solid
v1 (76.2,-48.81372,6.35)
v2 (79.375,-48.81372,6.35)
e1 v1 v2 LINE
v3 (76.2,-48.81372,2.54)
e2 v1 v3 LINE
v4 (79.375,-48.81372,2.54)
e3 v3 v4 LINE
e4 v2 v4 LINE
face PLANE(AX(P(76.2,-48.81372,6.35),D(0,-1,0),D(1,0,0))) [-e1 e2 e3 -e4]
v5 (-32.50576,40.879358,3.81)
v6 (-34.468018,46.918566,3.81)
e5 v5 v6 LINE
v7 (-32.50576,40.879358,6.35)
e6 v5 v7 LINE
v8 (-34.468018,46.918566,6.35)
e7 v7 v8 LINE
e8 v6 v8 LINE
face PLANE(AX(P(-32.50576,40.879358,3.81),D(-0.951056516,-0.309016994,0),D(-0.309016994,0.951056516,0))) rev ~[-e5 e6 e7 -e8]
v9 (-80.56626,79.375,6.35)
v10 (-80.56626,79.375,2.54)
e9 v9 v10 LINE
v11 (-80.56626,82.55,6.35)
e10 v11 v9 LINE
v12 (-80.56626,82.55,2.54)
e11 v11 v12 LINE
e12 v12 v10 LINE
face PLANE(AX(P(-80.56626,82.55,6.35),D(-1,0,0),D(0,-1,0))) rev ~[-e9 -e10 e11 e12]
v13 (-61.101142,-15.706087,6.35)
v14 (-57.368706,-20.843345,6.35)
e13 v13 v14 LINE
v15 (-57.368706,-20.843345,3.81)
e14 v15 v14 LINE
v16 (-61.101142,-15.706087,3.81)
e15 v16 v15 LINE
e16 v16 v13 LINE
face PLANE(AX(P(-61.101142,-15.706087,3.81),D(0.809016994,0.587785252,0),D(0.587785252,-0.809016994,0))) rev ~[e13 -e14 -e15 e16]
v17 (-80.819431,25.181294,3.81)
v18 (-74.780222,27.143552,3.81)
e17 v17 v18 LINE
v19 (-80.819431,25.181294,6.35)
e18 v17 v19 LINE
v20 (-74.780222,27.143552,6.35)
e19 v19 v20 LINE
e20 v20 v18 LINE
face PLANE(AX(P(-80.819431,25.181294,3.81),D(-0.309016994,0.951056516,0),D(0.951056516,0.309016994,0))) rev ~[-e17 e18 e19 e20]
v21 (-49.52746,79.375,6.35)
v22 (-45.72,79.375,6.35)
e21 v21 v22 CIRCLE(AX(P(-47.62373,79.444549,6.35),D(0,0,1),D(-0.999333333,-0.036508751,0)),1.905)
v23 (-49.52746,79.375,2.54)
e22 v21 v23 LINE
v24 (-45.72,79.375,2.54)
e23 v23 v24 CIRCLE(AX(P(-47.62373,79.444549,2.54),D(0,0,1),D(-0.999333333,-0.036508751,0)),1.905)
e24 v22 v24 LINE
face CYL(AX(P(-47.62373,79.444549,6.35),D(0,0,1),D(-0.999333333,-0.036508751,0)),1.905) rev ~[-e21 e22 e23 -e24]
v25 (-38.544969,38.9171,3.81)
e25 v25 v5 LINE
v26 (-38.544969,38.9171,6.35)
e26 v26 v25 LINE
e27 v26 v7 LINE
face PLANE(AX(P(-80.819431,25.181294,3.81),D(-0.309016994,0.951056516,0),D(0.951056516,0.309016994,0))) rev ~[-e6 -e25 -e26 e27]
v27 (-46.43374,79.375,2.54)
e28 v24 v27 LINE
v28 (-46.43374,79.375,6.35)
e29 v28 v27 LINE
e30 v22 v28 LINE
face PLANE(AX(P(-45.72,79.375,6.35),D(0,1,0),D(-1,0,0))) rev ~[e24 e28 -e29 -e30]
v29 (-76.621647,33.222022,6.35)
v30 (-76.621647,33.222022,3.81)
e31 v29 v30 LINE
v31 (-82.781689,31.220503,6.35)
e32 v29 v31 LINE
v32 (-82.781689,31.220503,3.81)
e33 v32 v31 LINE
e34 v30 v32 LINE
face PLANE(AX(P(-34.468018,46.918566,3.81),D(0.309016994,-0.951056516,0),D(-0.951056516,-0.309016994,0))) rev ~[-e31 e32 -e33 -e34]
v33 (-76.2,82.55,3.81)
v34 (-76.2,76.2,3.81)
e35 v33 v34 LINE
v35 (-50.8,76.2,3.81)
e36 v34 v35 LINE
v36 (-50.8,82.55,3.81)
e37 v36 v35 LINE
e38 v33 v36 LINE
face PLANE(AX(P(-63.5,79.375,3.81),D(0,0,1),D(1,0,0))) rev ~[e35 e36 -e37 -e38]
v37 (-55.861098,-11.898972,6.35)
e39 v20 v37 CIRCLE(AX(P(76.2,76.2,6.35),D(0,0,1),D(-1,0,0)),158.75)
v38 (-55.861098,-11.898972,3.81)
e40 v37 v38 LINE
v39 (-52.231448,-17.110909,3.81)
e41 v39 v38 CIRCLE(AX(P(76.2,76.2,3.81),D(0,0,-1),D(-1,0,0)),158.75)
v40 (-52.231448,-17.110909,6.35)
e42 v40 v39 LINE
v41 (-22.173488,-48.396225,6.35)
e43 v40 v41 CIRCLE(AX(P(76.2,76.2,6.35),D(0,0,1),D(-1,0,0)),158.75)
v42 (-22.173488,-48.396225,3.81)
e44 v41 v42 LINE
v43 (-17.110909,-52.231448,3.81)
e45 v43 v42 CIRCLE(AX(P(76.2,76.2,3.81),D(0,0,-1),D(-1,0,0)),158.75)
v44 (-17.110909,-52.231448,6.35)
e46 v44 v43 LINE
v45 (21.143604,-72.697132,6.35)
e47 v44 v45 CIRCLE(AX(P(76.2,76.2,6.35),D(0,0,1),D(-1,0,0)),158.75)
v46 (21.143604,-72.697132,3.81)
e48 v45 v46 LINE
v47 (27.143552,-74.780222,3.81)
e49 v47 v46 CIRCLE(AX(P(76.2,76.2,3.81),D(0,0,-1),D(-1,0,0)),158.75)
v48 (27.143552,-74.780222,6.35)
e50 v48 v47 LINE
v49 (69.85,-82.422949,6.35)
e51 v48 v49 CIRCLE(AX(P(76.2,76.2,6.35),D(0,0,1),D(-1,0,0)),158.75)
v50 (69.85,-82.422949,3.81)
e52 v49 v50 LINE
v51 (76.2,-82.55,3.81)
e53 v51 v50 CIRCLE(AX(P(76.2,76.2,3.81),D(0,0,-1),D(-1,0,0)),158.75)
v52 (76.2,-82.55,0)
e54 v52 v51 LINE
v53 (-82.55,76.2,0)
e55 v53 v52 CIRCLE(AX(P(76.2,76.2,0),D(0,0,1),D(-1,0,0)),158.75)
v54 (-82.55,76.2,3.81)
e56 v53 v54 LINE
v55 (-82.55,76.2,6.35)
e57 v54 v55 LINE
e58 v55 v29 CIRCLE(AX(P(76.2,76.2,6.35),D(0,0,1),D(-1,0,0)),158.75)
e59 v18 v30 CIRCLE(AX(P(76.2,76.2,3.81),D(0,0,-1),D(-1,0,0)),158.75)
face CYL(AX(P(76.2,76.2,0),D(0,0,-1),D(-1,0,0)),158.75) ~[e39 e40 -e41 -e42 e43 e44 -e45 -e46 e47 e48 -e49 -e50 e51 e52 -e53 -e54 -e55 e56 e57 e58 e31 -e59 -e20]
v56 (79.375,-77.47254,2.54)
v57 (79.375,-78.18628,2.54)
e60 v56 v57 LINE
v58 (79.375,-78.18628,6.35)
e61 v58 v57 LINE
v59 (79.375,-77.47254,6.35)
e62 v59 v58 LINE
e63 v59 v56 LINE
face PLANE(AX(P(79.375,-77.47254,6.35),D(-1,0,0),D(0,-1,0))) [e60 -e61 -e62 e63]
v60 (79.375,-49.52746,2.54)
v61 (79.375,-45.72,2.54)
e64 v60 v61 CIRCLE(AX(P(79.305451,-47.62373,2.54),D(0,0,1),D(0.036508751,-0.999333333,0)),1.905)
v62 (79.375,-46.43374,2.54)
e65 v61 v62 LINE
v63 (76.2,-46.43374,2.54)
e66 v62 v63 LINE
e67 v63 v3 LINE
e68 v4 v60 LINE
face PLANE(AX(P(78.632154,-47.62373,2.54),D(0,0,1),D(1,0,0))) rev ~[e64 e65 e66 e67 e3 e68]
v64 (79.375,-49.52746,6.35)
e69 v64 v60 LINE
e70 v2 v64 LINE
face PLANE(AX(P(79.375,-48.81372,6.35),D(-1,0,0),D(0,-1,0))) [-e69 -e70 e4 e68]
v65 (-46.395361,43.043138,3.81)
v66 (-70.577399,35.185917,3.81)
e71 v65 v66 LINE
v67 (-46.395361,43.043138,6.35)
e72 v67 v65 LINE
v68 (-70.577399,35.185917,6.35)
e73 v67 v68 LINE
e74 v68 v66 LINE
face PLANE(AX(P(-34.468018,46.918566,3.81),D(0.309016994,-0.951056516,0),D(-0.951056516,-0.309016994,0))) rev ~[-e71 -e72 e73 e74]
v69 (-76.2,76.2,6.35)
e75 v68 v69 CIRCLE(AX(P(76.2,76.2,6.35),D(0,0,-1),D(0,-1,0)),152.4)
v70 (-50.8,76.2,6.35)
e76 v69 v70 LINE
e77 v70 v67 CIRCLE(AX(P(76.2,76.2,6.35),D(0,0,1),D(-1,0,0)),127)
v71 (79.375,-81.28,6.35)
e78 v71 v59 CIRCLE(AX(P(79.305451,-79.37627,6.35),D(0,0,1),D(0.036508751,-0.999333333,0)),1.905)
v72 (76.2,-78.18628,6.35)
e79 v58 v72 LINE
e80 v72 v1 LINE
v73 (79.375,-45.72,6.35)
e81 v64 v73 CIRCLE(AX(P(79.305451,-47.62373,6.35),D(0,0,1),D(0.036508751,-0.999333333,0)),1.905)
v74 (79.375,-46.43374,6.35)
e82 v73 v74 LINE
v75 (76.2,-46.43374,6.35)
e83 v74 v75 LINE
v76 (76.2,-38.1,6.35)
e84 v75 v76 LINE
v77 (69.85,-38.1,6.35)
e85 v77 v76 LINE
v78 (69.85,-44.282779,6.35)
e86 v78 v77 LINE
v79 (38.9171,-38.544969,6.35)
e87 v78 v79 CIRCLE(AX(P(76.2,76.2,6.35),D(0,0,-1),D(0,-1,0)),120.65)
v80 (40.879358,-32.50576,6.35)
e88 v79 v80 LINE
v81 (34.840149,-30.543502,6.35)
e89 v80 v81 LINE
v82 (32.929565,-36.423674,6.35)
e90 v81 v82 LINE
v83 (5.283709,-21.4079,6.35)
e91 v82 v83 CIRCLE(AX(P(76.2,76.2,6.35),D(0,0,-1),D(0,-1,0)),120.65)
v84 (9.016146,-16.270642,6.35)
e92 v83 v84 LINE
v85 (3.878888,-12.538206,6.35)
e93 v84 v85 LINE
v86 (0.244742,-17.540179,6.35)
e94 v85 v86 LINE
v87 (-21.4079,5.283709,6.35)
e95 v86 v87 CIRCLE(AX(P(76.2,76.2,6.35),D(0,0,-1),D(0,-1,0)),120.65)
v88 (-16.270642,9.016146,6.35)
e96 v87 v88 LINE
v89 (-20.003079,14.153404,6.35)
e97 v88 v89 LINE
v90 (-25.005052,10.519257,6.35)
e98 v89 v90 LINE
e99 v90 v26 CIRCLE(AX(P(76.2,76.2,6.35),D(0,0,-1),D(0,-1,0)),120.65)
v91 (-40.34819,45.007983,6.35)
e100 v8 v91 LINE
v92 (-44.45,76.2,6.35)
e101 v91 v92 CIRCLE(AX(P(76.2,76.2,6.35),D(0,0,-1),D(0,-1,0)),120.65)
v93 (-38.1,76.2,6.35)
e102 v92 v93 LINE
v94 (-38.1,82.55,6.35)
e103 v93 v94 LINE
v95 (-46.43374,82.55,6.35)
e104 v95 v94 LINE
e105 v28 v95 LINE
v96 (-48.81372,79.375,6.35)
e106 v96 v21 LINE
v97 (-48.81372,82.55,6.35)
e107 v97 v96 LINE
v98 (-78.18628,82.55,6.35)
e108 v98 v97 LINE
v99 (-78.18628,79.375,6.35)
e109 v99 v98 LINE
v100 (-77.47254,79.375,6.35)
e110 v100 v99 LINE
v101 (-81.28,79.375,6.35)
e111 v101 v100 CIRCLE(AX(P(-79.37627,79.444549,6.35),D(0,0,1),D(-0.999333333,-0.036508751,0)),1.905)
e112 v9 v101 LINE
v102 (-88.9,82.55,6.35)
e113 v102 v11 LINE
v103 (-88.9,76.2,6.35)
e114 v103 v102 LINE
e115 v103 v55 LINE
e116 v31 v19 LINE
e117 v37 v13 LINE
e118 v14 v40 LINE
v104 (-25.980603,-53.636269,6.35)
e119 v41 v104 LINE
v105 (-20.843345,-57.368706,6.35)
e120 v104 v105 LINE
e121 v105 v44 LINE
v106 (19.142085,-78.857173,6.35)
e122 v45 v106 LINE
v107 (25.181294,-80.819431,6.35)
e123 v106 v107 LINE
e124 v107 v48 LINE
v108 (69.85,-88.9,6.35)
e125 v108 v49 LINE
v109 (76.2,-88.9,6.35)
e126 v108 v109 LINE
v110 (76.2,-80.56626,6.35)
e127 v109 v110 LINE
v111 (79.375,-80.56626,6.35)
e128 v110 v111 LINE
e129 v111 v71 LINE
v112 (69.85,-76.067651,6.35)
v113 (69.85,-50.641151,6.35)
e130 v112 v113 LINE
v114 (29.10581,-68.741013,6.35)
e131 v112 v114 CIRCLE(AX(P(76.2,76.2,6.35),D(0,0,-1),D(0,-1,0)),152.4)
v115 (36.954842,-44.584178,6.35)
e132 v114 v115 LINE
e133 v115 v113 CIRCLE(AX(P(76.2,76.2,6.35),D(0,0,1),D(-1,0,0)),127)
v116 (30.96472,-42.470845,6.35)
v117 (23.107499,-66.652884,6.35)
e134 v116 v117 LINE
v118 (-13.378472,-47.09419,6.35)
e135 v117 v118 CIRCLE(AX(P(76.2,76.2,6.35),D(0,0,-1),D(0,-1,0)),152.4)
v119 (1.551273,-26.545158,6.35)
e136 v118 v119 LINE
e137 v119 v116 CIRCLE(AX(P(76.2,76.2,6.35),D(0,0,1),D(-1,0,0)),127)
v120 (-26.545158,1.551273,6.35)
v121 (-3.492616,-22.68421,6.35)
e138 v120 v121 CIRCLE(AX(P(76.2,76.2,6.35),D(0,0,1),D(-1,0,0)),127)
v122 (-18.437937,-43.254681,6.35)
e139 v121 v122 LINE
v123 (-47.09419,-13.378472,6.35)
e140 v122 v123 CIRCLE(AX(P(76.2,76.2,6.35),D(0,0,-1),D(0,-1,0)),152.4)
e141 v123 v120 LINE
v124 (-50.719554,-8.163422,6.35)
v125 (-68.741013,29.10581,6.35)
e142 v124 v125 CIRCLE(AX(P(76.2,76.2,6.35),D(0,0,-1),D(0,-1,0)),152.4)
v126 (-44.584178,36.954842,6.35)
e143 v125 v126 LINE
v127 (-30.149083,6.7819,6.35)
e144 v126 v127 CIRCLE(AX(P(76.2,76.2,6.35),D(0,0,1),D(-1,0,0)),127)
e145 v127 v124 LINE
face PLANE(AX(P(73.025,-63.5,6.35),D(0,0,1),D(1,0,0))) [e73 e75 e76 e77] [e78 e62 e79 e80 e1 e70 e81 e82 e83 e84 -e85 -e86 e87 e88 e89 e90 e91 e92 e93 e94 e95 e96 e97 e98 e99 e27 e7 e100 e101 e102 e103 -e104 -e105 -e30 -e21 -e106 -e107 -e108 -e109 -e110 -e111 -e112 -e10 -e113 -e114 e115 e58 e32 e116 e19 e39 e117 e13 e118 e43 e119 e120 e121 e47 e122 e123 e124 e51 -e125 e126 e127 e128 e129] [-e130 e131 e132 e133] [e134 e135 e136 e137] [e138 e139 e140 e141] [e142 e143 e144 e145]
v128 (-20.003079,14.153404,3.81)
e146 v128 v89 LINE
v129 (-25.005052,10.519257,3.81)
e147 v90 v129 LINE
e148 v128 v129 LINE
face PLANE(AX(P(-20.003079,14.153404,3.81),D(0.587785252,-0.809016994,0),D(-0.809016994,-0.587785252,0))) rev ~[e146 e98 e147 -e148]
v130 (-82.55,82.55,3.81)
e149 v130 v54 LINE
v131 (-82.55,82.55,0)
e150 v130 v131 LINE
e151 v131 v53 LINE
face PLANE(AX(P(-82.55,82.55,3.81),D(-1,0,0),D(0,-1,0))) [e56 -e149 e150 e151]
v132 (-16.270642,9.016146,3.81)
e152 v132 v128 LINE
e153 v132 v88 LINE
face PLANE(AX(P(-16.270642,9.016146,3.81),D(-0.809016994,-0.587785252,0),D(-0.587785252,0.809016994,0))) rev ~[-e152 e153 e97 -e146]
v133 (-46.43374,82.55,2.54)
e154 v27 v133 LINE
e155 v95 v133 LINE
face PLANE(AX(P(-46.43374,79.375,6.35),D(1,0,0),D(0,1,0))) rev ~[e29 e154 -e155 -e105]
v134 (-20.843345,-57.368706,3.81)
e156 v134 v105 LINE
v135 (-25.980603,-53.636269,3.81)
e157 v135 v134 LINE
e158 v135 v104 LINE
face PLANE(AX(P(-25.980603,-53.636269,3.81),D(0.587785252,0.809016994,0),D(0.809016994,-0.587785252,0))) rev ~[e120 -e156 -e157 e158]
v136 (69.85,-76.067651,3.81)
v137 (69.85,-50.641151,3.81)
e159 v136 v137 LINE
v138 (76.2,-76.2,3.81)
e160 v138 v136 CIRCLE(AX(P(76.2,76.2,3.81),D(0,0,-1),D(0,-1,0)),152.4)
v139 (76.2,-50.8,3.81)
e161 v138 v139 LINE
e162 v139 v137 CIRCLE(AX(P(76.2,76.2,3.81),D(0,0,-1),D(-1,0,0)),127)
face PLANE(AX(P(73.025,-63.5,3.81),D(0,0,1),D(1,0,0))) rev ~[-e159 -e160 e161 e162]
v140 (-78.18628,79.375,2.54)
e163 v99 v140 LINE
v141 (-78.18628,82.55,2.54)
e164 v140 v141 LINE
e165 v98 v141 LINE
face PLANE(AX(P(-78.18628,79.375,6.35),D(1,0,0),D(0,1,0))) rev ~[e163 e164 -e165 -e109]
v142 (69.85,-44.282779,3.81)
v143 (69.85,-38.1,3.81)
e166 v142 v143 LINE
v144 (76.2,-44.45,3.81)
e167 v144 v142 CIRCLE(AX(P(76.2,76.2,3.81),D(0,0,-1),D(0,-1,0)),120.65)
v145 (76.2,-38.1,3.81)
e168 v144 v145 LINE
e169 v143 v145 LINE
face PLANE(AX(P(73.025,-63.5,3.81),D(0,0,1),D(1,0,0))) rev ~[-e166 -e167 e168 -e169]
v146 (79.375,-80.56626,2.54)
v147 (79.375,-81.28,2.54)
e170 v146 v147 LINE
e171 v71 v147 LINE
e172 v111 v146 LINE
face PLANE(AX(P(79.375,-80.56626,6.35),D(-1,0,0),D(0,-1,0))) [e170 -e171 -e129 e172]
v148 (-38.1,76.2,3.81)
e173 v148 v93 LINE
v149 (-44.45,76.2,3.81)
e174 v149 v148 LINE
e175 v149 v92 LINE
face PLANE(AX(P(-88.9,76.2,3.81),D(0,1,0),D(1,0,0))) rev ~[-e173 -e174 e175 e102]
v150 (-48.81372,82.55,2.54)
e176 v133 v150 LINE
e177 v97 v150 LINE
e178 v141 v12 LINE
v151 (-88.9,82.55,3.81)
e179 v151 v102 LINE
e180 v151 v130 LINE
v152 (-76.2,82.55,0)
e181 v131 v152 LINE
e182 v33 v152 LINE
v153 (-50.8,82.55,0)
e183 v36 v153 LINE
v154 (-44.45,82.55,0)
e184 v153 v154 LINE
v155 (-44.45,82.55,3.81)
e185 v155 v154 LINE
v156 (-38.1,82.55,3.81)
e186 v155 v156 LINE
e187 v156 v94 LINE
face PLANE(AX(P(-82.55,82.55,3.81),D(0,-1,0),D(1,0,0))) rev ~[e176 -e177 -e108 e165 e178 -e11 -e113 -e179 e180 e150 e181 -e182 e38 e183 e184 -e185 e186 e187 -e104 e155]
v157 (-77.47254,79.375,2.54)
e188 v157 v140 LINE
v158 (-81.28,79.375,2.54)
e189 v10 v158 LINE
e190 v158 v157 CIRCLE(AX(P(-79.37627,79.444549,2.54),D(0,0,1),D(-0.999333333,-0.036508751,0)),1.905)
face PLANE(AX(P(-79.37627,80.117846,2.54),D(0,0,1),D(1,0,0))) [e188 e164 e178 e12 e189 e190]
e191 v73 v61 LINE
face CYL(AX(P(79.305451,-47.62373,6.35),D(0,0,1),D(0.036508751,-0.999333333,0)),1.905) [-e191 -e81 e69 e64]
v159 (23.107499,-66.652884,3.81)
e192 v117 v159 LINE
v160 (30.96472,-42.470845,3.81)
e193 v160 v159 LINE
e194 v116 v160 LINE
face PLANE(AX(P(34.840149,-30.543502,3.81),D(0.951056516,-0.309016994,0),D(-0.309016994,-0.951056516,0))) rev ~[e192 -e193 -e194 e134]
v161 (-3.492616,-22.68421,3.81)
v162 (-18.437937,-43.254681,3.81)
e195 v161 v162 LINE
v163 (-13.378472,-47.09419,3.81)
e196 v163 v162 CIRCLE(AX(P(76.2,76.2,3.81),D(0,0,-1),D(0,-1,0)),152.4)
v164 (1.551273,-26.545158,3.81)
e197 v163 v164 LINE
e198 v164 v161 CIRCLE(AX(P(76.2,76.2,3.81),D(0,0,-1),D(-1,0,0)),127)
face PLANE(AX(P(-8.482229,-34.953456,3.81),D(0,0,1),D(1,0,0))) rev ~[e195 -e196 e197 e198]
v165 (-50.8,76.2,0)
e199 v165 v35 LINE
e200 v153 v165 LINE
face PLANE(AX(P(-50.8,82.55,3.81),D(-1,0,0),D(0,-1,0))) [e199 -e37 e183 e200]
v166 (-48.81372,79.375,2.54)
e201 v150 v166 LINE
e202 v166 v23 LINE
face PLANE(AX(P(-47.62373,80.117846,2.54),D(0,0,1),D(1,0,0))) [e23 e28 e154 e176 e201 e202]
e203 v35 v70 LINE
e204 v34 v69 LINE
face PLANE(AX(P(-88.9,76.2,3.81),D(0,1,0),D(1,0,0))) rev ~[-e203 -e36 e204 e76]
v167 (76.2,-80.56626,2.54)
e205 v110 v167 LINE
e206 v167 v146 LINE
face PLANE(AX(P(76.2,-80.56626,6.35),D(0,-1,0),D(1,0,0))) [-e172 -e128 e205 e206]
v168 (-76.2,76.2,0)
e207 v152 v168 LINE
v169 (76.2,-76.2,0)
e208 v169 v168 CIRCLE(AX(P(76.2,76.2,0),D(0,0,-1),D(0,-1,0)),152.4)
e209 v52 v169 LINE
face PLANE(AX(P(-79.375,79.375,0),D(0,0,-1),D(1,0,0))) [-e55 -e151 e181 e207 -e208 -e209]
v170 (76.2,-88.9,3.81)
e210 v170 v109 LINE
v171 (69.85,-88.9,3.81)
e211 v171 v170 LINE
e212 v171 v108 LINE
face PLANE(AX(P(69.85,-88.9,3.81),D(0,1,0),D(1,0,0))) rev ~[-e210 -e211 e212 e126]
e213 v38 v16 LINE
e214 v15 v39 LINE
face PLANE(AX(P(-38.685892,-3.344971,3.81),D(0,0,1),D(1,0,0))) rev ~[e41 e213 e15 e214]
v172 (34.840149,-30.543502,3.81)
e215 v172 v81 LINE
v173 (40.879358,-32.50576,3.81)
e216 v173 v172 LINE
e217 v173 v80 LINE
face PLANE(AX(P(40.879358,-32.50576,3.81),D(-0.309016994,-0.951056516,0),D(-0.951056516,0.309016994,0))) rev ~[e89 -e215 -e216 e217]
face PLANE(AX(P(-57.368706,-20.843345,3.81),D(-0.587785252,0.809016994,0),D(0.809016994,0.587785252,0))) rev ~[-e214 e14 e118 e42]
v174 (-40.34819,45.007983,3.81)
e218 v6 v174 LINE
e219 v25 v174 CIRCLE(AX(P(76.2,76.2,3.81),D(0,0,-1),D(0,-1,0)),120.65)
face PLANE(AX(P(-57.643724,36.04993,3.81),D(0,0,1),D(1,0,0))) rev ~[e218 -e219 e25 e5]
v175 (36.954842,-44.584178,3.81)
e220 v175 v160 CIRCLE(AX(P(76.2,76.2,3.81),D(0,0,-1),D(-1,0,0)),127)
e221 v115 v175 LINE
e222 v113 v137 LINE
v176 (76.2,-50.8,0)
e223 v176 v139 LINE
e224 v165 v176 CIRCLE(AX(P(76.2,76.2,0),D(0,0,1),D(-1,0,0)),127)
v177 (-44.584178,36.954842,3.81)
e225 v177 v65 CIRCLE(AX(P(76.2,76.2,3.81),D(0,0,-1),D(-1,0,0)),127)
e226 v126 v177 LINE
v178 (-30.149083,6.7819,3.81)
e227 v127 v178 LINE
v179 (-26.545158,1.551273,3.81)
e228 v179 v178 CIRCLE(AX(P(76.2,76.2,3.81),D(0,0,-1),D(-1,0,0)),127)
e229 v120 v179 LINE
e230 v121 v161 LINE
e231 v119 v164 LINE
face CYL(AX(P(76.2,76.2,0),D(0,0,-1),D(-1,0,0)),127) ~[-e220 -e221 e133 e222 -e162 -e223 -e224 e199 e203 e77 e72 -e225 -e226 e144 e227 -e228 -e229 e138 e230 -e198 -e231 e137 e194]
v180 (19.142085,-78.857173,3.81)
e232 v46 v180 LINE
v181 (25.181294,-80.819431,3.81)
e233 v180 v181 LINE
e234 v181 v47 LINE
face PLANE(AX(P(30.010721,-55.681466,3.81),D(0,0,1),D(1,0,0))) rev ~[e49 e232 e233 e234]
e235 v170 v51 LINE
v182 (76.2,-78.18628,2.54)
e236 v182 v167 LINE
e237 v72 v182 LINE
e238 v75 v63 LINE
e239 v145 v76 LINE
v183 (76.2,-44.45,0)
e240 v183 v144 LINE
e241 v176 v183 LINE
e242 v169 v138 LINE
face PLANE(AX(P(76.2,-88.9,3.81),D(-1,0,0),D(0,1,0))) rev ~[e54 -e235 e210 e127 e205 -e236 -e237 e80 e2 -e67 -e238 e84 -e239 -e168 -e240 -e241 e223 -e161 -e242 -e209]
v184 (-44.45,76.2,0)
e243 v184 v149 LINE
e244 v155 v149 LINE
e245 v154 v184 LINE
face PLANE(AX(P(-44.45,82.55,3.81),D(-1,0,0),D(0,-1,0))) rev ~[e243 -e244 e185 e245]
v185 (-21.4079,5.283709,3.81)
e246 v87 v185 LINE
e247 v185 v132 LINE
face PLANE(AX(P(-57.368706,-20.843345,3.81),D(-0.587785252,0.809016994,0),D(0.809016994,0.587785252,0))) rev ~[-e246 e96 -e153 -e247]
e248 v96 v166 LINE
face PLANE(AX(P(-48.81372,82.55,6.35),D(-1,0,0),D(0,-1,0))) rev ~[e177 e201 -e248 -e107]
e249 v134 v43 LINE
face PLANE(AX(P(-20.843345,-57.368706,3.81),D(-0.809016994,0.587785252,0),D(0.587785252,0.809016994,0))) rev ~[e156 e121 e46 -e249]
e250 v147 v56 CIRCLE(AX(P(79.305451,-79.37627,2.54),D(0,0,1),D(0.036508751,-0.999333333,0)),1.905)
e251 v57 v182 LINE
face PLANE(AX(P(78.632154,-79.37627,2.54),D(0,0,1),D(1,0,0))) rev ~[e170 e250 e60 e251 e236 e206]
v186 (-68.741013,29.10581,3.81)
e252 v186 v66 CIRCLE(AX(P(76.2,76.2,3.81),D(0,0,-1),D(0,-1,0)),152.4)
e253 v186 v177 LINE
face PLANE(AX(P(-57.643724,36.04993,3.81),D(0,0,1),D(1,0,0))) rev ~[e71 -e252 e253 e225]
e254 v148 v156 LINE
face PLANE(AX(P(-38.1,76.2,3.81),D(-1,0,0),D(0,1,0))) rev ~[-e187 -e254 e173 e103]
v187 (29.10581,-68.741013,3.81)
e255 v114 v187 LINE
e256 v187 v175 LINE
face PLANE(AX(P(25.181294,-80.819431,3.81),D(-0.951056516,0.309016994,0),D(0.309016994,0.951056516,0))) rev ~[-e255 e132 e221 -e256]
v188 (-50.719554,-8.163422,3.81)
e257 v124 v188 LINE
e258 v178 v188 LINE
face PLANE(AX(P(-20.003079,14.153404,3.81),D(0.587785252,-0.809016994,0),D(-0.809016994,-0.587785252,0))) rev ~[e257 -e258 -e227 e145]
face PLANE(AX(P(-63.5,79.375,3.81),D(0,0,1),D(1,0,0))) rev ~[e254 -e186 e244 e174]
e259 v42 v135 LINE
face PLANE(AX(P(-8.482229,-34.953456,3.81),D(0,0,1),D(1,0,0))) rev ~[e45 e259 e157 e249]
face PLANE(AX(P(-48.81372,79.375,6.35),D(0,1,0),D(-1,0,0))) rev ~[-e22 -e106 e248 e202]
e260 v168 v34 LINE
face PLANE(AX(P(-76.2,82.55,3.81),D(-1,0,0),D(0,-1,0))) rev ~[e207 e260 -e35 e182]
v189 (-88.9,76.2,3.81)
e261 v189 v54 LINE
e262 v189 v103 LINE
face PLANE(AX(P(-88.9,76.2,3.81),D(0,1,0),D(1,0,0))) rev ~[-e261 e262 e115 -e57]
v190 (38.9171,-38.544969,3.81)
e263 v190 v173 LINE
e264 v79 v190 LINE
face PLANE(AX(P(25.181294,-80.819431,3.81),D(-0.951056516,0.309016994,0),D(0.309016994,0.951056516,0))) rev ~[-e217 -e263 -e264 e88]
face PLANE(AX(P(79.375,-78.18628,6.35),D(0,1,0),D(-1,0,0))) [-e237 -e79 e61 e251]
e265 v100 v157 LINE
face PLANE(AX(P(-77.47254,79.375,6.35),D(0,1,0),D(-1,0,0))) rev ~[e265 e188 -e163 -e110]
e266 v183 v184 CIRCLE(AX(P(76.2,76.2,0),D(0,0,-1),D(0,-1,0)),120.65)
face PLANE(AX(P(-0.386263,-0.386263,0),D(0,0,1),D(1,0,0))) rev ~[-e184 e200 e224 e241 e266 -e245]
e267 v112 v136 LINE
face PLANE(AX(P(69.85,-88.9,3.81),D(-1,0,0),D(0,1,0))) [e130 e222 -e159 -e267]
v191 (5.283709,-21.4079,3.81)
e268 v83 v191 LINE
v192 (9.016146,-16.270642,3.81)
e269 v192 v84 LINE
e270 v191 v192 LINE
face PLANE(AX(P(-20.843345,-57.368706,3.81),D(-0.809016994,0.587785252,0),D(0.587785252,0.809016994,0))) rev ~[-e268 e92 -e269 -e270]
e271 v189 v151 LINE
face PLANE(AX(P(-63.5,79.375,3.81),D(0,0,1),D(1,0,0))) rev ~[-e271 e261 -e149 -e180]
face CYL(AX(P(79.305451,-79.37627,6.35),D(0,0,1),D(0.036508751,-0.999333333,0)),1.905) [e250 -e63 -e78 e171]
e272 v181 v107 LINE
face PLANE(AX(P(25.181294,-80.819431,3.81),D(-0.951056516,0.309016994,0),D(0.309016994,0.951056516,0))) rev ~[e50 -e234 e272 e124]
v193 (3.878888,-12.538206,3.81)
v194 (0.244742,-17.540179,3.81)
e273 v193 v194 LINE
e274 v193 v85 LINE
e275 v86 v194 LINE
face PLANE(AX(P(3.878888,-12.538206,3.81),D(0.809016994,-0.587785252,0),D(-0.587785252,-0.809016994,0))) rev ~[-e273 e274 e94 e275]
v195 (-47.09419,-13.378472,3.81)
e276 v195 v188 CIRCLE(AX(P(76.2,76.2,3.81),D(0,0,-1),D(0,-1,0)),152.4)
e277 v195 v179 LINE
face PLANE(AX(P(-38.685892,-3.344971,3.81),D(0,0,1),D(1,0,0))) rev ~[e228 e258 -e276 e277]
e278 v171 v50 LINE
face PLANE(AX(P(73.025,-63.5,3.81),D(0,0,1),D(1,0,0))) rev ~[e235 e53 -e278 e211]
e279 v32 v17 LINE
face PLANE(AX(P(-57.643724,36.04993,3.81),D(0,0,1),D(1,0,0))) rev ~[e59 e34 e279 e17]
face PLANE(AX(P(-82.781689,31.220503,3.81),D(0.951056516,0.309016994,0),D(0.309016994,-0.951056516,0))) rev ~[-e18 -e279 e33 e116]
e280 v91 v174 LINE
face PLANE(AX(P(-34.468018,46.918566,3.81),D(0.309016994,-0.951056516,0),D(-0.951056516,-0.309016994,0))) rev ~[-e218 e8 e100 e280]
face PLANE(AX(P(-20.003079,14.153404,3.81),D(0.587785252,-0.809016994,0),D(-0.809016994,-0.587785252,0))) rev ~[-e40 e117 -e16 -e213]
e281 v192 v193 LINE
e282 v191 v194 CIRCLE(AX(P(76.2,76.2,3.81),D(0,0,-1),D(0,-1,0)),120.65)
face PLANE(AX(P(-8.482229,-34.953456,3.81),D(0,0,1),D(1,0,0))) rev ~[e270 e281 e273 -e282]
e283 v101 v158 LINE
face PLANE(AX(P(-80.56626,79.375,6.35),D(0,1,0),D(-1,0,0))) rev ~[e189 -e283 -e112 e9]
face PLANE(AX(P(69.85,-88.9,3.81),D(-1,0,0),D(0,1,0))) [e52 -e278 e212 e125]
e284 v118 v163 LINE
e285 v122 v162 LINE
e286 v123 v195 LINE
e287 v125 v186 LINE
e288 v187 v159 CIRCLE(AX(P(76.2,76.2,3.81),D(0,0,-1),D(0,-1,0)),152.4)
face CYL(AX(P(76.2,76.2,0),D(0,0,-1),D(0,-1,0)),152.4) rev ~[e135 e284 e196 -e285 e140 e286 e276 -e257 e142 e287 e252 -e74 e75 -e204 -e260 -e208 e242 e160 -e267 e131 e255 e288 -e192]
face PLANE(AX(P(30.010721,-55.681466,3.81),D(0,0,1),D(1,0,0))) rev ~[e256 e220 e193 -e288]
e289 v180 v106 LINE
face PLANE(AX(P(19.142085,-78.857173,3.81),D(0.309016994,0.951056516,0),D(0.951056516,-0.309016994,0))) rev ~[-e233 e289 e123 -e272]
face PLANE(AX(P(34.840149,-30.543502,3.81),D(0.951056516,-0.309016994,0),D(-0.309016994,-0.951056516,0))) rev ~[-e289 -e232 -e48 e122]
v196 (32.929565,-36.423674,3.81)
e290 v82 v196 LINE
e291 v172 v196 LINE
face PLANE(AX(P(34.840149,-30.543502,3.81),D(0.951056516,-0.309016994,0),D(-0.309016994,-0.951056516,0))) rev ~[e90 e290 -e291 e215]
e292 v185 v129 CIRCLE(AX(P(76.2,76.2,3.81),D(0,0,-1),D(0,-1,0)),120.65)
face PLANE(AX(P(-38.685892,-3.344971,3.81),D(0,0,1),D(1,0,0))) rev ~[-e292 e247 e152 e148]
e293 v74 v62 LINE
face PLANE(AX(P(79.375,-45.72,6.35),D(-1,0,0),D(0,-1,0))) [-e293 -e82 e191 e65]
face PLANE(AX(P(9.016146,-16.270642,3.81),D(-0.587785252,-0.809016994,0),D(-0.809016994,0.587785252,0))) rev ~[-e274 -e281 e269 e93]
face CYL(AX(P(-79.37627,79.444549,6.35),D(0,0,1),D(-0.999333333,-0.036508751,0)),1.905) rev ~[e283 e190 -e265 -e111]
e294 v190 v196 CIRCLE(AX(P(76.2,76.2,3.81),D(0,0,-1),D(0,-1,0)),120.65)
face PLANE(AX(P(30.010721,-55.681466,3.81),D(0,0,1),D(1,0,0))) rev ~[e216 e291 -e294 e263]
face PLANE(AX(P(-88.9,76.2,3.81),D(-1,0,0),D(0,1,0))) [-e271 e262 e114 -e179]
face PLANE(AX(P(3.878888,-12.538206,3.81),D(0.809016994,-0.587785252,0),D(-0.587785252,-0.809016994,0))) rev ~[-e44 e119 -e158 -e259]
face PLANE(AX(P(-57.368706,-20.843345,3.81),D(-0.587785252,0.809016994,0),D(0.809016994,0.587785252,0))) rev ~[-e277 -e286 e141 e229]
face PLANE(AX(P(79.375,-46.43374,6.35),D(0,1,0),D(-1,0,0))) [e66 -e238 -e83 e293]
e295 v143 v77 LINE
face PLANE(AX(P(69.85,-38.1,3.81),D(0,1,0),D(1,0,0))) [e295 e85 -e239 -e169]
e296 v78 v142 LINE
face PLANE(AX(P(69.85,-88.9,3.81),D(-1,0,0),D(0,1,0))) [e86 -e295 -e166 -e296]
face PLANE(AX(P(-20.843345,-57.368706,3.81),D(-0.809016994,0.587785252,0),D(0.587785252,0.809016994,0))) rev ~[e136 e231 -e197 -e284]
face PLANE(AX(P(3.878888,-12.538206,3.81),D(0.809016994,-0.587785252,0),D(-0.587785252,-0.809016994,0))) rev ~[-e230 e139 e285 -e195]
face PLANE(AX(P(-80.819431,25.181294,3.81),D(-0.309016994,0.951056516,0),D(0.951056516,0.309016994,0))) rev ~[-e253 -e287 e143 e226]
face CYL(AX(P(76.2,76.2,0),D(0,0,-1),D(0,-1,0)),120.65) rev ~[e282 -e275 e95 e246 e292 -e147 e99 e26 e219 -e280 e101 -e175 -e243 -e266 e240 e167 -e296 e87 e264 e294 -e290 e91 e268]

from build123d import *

# Parameters (mm, degrees)
F1_DEPTH = 6.35
F3_START = 3.81
F2_W     = 6.35
F2_H     = 50.8
F2_W_2   = 50.8
F2_H_2   = 6.35
F3_DEPTH = 2.54
F4_W     = 6.35
F4_H     = 6.35
F5_DEPTH = 3.81
F7_DEPTH = 3.81
F9_DEPTH = 3.81


with BuildPart() as f1:
    # F0 (on Top) → F1 (new body)
    with BuildSketch(Plane.XY):
        with BuildLine():
            Line((76.2, -82.55), (76.2, -76.2))
            ThreePointArc((76.2, -76.2), (-31.5630734528, -31.5630734528), (-76.2, 76.2))
            Line((-76.2, 76.2), (-82.55, 76.2))
            ThreePointArc((-82.55, 76.2), (-36.0532015134, -36.0532015134), (76.2, -82.55))
        make_face()
    extrude(amount=F1_DEPTH)



with BuildPart() as f1b:
    # F0 (on Top) → F1, piece 2 (new body)
    with BuildSketch(Plane.XY):
        with BuildLine():
            ThreePointArc((-50.8, 76.2), (-13.6025612107, -13.6025612107), (76.2, -50.8))
            Line((76.2, -50.8), (76.2, -44.45))
            ThreePointArc((76.2, -44.45), (-9.1124331502, -9.1124331502), (-44.45, 76.2))
            Line((-44.45, 76.2), (-50.8, 76.2))
        make_face()
    extrude(amount=F1_DEPTH)


with BuildPart() as f1_1:
    add(f1.part)

    add(f1b.part)  # F3 merges F1b
    # F2 (on Top) → F3 (join)
    with BuildSketch(Plane.XY.offset(F3_START)):
        with Locations((73.025, -63.5)):
            Rectangle(F2_W, F2_H)
        Polygon((25.1812942287, -80.8194308403), (40.8793575429, -32.5057598125), (34.8401486645, -30.5435018983), (19.1420853502, -78.857172926), align=None)
        Polygon((-20.8433451535, -57.3687057713), (9.016145663, -16.2706424571), (3.8788877487, -12.538206105), (-25.9806030678, -53.6362694192), align=None)
        Polygon((-57.3687057713, -20.8433451535), (-16.2706424571, 9.016145663), (-20.0030788091, 14.1534035773), (-61.1011421234, -15.7060872392), align=None)
        Polygon((-80.8194308403, 25.1812942287), (-32.5057598125, 40.8793575429), (-34.4680177268, 46.9185664214), (-82.7816887546, 31.2205031072), align=None)
        with Locations((-63.5, 79.375)):
            Rectangle(F2_W_2, F2_H_2)
    extrude(amount=F3_DEPTH)

    # F4 (on face) → F5 (join, through all)
    with BuildSketch(Plane(origin=(0, 0, 3.81), x_dir=(1, 0, 0), z_dir=(0, 0, -1))):
        with Locations((-79.375, -79.375)):
            Rectangle(F4_W, F4_H)
        with Locations((-47.625, -79.375)):
            Rectangle(F4_W, F4_H)
    extrude(amount=F5_DEPTH)

    # F6 (on face) → F7 (join)
    with BuildSketch(Plane.XY.offset(6.35)):
        with BuildLine():
            Line((76.2, -46.43374), (76.2, -47.62373))
            Line((76.2, -47.62373), (76.2, -48.81372))
            Line((76.2, -48.81372), (79.375, -48.81372))
            Line((79.375, -48.81372), (79.375, -49.52746))
            ThreePointArc((79.375, -49.52746), (81.2104508296, -47.62373), (79.375, -45.72))
            Line((79.375, -45.72), (79.375, -46.43374))
            Line((79.375, -46.43374), (76.2, -46.43374))
        make_face()
        with BuildLine():
            Line((76.2, -78.18628), (76.2, -79.37627))
            Line((76.2, -79.37627), (76.2, -80.56626))
            Line((76.2, -80.56626), (79.375, -80.56626))
            Line((79.375, -80.56626), (79.375, -81.28))
            ThreePointArc((79.375, -81.28), (81.2104508296, -79.37627), (79.375, -77.47254))
            Line((79.375, -77.47254), (79.375, -78.18628))
            Line((79.375, -78.18628), (76.2, -78.18628))
        make_face()
    extrude(amount=-F7_DEPTH)

    # F8 (on face) → F9 (cut)
    with BuildSketch(Plane.XY.offset(6.35)):
        with BuildLine():
            Line((-46.43374, 82.55), (-47.62373, 82.55))
            Line((-47.62373, 82.55), (-48.81372, 82.55))
            Line((-48.81372, 82.55), (-48.81372, 79.375))
            Line((-48.81372, 79.375), (-49.52746, 79.375))
            ThreePointArc((-49.52746, 79.375), (-47.62373, 77.5395491704), (-45.72, 79.375))
            Line((-45.72, 79.375), (-46.43374, 79.375))
            Line((-46.43374, 79.375), (-46.43374, 82.55))
        make_face()
        with BuildLine():
            Line((-78.18628, 82.55), (-79.37627, 82.55))
            Line((-79.37627, 82.55), (-80.56626, 82.55))
            Line((-80.56626, 82.55), (-80.56626, 79.375))
            Line((-80.56626, 79.375), (-81.28, 79.375))
            ThreePointArc((-81.28, 79.375), (-79.37627, 77.5395491704), (-77.47254, 79.375))
            Line((-77.47254, 79.375), (-78.18628, 79.375))
            Line((-78.18628, 79.375), (-78.18628, 82.55))
        make_face()
    extrude(amount=-F9_DEPTH, mode=Mode.SUBTRACT)


solid = f1_1.part
